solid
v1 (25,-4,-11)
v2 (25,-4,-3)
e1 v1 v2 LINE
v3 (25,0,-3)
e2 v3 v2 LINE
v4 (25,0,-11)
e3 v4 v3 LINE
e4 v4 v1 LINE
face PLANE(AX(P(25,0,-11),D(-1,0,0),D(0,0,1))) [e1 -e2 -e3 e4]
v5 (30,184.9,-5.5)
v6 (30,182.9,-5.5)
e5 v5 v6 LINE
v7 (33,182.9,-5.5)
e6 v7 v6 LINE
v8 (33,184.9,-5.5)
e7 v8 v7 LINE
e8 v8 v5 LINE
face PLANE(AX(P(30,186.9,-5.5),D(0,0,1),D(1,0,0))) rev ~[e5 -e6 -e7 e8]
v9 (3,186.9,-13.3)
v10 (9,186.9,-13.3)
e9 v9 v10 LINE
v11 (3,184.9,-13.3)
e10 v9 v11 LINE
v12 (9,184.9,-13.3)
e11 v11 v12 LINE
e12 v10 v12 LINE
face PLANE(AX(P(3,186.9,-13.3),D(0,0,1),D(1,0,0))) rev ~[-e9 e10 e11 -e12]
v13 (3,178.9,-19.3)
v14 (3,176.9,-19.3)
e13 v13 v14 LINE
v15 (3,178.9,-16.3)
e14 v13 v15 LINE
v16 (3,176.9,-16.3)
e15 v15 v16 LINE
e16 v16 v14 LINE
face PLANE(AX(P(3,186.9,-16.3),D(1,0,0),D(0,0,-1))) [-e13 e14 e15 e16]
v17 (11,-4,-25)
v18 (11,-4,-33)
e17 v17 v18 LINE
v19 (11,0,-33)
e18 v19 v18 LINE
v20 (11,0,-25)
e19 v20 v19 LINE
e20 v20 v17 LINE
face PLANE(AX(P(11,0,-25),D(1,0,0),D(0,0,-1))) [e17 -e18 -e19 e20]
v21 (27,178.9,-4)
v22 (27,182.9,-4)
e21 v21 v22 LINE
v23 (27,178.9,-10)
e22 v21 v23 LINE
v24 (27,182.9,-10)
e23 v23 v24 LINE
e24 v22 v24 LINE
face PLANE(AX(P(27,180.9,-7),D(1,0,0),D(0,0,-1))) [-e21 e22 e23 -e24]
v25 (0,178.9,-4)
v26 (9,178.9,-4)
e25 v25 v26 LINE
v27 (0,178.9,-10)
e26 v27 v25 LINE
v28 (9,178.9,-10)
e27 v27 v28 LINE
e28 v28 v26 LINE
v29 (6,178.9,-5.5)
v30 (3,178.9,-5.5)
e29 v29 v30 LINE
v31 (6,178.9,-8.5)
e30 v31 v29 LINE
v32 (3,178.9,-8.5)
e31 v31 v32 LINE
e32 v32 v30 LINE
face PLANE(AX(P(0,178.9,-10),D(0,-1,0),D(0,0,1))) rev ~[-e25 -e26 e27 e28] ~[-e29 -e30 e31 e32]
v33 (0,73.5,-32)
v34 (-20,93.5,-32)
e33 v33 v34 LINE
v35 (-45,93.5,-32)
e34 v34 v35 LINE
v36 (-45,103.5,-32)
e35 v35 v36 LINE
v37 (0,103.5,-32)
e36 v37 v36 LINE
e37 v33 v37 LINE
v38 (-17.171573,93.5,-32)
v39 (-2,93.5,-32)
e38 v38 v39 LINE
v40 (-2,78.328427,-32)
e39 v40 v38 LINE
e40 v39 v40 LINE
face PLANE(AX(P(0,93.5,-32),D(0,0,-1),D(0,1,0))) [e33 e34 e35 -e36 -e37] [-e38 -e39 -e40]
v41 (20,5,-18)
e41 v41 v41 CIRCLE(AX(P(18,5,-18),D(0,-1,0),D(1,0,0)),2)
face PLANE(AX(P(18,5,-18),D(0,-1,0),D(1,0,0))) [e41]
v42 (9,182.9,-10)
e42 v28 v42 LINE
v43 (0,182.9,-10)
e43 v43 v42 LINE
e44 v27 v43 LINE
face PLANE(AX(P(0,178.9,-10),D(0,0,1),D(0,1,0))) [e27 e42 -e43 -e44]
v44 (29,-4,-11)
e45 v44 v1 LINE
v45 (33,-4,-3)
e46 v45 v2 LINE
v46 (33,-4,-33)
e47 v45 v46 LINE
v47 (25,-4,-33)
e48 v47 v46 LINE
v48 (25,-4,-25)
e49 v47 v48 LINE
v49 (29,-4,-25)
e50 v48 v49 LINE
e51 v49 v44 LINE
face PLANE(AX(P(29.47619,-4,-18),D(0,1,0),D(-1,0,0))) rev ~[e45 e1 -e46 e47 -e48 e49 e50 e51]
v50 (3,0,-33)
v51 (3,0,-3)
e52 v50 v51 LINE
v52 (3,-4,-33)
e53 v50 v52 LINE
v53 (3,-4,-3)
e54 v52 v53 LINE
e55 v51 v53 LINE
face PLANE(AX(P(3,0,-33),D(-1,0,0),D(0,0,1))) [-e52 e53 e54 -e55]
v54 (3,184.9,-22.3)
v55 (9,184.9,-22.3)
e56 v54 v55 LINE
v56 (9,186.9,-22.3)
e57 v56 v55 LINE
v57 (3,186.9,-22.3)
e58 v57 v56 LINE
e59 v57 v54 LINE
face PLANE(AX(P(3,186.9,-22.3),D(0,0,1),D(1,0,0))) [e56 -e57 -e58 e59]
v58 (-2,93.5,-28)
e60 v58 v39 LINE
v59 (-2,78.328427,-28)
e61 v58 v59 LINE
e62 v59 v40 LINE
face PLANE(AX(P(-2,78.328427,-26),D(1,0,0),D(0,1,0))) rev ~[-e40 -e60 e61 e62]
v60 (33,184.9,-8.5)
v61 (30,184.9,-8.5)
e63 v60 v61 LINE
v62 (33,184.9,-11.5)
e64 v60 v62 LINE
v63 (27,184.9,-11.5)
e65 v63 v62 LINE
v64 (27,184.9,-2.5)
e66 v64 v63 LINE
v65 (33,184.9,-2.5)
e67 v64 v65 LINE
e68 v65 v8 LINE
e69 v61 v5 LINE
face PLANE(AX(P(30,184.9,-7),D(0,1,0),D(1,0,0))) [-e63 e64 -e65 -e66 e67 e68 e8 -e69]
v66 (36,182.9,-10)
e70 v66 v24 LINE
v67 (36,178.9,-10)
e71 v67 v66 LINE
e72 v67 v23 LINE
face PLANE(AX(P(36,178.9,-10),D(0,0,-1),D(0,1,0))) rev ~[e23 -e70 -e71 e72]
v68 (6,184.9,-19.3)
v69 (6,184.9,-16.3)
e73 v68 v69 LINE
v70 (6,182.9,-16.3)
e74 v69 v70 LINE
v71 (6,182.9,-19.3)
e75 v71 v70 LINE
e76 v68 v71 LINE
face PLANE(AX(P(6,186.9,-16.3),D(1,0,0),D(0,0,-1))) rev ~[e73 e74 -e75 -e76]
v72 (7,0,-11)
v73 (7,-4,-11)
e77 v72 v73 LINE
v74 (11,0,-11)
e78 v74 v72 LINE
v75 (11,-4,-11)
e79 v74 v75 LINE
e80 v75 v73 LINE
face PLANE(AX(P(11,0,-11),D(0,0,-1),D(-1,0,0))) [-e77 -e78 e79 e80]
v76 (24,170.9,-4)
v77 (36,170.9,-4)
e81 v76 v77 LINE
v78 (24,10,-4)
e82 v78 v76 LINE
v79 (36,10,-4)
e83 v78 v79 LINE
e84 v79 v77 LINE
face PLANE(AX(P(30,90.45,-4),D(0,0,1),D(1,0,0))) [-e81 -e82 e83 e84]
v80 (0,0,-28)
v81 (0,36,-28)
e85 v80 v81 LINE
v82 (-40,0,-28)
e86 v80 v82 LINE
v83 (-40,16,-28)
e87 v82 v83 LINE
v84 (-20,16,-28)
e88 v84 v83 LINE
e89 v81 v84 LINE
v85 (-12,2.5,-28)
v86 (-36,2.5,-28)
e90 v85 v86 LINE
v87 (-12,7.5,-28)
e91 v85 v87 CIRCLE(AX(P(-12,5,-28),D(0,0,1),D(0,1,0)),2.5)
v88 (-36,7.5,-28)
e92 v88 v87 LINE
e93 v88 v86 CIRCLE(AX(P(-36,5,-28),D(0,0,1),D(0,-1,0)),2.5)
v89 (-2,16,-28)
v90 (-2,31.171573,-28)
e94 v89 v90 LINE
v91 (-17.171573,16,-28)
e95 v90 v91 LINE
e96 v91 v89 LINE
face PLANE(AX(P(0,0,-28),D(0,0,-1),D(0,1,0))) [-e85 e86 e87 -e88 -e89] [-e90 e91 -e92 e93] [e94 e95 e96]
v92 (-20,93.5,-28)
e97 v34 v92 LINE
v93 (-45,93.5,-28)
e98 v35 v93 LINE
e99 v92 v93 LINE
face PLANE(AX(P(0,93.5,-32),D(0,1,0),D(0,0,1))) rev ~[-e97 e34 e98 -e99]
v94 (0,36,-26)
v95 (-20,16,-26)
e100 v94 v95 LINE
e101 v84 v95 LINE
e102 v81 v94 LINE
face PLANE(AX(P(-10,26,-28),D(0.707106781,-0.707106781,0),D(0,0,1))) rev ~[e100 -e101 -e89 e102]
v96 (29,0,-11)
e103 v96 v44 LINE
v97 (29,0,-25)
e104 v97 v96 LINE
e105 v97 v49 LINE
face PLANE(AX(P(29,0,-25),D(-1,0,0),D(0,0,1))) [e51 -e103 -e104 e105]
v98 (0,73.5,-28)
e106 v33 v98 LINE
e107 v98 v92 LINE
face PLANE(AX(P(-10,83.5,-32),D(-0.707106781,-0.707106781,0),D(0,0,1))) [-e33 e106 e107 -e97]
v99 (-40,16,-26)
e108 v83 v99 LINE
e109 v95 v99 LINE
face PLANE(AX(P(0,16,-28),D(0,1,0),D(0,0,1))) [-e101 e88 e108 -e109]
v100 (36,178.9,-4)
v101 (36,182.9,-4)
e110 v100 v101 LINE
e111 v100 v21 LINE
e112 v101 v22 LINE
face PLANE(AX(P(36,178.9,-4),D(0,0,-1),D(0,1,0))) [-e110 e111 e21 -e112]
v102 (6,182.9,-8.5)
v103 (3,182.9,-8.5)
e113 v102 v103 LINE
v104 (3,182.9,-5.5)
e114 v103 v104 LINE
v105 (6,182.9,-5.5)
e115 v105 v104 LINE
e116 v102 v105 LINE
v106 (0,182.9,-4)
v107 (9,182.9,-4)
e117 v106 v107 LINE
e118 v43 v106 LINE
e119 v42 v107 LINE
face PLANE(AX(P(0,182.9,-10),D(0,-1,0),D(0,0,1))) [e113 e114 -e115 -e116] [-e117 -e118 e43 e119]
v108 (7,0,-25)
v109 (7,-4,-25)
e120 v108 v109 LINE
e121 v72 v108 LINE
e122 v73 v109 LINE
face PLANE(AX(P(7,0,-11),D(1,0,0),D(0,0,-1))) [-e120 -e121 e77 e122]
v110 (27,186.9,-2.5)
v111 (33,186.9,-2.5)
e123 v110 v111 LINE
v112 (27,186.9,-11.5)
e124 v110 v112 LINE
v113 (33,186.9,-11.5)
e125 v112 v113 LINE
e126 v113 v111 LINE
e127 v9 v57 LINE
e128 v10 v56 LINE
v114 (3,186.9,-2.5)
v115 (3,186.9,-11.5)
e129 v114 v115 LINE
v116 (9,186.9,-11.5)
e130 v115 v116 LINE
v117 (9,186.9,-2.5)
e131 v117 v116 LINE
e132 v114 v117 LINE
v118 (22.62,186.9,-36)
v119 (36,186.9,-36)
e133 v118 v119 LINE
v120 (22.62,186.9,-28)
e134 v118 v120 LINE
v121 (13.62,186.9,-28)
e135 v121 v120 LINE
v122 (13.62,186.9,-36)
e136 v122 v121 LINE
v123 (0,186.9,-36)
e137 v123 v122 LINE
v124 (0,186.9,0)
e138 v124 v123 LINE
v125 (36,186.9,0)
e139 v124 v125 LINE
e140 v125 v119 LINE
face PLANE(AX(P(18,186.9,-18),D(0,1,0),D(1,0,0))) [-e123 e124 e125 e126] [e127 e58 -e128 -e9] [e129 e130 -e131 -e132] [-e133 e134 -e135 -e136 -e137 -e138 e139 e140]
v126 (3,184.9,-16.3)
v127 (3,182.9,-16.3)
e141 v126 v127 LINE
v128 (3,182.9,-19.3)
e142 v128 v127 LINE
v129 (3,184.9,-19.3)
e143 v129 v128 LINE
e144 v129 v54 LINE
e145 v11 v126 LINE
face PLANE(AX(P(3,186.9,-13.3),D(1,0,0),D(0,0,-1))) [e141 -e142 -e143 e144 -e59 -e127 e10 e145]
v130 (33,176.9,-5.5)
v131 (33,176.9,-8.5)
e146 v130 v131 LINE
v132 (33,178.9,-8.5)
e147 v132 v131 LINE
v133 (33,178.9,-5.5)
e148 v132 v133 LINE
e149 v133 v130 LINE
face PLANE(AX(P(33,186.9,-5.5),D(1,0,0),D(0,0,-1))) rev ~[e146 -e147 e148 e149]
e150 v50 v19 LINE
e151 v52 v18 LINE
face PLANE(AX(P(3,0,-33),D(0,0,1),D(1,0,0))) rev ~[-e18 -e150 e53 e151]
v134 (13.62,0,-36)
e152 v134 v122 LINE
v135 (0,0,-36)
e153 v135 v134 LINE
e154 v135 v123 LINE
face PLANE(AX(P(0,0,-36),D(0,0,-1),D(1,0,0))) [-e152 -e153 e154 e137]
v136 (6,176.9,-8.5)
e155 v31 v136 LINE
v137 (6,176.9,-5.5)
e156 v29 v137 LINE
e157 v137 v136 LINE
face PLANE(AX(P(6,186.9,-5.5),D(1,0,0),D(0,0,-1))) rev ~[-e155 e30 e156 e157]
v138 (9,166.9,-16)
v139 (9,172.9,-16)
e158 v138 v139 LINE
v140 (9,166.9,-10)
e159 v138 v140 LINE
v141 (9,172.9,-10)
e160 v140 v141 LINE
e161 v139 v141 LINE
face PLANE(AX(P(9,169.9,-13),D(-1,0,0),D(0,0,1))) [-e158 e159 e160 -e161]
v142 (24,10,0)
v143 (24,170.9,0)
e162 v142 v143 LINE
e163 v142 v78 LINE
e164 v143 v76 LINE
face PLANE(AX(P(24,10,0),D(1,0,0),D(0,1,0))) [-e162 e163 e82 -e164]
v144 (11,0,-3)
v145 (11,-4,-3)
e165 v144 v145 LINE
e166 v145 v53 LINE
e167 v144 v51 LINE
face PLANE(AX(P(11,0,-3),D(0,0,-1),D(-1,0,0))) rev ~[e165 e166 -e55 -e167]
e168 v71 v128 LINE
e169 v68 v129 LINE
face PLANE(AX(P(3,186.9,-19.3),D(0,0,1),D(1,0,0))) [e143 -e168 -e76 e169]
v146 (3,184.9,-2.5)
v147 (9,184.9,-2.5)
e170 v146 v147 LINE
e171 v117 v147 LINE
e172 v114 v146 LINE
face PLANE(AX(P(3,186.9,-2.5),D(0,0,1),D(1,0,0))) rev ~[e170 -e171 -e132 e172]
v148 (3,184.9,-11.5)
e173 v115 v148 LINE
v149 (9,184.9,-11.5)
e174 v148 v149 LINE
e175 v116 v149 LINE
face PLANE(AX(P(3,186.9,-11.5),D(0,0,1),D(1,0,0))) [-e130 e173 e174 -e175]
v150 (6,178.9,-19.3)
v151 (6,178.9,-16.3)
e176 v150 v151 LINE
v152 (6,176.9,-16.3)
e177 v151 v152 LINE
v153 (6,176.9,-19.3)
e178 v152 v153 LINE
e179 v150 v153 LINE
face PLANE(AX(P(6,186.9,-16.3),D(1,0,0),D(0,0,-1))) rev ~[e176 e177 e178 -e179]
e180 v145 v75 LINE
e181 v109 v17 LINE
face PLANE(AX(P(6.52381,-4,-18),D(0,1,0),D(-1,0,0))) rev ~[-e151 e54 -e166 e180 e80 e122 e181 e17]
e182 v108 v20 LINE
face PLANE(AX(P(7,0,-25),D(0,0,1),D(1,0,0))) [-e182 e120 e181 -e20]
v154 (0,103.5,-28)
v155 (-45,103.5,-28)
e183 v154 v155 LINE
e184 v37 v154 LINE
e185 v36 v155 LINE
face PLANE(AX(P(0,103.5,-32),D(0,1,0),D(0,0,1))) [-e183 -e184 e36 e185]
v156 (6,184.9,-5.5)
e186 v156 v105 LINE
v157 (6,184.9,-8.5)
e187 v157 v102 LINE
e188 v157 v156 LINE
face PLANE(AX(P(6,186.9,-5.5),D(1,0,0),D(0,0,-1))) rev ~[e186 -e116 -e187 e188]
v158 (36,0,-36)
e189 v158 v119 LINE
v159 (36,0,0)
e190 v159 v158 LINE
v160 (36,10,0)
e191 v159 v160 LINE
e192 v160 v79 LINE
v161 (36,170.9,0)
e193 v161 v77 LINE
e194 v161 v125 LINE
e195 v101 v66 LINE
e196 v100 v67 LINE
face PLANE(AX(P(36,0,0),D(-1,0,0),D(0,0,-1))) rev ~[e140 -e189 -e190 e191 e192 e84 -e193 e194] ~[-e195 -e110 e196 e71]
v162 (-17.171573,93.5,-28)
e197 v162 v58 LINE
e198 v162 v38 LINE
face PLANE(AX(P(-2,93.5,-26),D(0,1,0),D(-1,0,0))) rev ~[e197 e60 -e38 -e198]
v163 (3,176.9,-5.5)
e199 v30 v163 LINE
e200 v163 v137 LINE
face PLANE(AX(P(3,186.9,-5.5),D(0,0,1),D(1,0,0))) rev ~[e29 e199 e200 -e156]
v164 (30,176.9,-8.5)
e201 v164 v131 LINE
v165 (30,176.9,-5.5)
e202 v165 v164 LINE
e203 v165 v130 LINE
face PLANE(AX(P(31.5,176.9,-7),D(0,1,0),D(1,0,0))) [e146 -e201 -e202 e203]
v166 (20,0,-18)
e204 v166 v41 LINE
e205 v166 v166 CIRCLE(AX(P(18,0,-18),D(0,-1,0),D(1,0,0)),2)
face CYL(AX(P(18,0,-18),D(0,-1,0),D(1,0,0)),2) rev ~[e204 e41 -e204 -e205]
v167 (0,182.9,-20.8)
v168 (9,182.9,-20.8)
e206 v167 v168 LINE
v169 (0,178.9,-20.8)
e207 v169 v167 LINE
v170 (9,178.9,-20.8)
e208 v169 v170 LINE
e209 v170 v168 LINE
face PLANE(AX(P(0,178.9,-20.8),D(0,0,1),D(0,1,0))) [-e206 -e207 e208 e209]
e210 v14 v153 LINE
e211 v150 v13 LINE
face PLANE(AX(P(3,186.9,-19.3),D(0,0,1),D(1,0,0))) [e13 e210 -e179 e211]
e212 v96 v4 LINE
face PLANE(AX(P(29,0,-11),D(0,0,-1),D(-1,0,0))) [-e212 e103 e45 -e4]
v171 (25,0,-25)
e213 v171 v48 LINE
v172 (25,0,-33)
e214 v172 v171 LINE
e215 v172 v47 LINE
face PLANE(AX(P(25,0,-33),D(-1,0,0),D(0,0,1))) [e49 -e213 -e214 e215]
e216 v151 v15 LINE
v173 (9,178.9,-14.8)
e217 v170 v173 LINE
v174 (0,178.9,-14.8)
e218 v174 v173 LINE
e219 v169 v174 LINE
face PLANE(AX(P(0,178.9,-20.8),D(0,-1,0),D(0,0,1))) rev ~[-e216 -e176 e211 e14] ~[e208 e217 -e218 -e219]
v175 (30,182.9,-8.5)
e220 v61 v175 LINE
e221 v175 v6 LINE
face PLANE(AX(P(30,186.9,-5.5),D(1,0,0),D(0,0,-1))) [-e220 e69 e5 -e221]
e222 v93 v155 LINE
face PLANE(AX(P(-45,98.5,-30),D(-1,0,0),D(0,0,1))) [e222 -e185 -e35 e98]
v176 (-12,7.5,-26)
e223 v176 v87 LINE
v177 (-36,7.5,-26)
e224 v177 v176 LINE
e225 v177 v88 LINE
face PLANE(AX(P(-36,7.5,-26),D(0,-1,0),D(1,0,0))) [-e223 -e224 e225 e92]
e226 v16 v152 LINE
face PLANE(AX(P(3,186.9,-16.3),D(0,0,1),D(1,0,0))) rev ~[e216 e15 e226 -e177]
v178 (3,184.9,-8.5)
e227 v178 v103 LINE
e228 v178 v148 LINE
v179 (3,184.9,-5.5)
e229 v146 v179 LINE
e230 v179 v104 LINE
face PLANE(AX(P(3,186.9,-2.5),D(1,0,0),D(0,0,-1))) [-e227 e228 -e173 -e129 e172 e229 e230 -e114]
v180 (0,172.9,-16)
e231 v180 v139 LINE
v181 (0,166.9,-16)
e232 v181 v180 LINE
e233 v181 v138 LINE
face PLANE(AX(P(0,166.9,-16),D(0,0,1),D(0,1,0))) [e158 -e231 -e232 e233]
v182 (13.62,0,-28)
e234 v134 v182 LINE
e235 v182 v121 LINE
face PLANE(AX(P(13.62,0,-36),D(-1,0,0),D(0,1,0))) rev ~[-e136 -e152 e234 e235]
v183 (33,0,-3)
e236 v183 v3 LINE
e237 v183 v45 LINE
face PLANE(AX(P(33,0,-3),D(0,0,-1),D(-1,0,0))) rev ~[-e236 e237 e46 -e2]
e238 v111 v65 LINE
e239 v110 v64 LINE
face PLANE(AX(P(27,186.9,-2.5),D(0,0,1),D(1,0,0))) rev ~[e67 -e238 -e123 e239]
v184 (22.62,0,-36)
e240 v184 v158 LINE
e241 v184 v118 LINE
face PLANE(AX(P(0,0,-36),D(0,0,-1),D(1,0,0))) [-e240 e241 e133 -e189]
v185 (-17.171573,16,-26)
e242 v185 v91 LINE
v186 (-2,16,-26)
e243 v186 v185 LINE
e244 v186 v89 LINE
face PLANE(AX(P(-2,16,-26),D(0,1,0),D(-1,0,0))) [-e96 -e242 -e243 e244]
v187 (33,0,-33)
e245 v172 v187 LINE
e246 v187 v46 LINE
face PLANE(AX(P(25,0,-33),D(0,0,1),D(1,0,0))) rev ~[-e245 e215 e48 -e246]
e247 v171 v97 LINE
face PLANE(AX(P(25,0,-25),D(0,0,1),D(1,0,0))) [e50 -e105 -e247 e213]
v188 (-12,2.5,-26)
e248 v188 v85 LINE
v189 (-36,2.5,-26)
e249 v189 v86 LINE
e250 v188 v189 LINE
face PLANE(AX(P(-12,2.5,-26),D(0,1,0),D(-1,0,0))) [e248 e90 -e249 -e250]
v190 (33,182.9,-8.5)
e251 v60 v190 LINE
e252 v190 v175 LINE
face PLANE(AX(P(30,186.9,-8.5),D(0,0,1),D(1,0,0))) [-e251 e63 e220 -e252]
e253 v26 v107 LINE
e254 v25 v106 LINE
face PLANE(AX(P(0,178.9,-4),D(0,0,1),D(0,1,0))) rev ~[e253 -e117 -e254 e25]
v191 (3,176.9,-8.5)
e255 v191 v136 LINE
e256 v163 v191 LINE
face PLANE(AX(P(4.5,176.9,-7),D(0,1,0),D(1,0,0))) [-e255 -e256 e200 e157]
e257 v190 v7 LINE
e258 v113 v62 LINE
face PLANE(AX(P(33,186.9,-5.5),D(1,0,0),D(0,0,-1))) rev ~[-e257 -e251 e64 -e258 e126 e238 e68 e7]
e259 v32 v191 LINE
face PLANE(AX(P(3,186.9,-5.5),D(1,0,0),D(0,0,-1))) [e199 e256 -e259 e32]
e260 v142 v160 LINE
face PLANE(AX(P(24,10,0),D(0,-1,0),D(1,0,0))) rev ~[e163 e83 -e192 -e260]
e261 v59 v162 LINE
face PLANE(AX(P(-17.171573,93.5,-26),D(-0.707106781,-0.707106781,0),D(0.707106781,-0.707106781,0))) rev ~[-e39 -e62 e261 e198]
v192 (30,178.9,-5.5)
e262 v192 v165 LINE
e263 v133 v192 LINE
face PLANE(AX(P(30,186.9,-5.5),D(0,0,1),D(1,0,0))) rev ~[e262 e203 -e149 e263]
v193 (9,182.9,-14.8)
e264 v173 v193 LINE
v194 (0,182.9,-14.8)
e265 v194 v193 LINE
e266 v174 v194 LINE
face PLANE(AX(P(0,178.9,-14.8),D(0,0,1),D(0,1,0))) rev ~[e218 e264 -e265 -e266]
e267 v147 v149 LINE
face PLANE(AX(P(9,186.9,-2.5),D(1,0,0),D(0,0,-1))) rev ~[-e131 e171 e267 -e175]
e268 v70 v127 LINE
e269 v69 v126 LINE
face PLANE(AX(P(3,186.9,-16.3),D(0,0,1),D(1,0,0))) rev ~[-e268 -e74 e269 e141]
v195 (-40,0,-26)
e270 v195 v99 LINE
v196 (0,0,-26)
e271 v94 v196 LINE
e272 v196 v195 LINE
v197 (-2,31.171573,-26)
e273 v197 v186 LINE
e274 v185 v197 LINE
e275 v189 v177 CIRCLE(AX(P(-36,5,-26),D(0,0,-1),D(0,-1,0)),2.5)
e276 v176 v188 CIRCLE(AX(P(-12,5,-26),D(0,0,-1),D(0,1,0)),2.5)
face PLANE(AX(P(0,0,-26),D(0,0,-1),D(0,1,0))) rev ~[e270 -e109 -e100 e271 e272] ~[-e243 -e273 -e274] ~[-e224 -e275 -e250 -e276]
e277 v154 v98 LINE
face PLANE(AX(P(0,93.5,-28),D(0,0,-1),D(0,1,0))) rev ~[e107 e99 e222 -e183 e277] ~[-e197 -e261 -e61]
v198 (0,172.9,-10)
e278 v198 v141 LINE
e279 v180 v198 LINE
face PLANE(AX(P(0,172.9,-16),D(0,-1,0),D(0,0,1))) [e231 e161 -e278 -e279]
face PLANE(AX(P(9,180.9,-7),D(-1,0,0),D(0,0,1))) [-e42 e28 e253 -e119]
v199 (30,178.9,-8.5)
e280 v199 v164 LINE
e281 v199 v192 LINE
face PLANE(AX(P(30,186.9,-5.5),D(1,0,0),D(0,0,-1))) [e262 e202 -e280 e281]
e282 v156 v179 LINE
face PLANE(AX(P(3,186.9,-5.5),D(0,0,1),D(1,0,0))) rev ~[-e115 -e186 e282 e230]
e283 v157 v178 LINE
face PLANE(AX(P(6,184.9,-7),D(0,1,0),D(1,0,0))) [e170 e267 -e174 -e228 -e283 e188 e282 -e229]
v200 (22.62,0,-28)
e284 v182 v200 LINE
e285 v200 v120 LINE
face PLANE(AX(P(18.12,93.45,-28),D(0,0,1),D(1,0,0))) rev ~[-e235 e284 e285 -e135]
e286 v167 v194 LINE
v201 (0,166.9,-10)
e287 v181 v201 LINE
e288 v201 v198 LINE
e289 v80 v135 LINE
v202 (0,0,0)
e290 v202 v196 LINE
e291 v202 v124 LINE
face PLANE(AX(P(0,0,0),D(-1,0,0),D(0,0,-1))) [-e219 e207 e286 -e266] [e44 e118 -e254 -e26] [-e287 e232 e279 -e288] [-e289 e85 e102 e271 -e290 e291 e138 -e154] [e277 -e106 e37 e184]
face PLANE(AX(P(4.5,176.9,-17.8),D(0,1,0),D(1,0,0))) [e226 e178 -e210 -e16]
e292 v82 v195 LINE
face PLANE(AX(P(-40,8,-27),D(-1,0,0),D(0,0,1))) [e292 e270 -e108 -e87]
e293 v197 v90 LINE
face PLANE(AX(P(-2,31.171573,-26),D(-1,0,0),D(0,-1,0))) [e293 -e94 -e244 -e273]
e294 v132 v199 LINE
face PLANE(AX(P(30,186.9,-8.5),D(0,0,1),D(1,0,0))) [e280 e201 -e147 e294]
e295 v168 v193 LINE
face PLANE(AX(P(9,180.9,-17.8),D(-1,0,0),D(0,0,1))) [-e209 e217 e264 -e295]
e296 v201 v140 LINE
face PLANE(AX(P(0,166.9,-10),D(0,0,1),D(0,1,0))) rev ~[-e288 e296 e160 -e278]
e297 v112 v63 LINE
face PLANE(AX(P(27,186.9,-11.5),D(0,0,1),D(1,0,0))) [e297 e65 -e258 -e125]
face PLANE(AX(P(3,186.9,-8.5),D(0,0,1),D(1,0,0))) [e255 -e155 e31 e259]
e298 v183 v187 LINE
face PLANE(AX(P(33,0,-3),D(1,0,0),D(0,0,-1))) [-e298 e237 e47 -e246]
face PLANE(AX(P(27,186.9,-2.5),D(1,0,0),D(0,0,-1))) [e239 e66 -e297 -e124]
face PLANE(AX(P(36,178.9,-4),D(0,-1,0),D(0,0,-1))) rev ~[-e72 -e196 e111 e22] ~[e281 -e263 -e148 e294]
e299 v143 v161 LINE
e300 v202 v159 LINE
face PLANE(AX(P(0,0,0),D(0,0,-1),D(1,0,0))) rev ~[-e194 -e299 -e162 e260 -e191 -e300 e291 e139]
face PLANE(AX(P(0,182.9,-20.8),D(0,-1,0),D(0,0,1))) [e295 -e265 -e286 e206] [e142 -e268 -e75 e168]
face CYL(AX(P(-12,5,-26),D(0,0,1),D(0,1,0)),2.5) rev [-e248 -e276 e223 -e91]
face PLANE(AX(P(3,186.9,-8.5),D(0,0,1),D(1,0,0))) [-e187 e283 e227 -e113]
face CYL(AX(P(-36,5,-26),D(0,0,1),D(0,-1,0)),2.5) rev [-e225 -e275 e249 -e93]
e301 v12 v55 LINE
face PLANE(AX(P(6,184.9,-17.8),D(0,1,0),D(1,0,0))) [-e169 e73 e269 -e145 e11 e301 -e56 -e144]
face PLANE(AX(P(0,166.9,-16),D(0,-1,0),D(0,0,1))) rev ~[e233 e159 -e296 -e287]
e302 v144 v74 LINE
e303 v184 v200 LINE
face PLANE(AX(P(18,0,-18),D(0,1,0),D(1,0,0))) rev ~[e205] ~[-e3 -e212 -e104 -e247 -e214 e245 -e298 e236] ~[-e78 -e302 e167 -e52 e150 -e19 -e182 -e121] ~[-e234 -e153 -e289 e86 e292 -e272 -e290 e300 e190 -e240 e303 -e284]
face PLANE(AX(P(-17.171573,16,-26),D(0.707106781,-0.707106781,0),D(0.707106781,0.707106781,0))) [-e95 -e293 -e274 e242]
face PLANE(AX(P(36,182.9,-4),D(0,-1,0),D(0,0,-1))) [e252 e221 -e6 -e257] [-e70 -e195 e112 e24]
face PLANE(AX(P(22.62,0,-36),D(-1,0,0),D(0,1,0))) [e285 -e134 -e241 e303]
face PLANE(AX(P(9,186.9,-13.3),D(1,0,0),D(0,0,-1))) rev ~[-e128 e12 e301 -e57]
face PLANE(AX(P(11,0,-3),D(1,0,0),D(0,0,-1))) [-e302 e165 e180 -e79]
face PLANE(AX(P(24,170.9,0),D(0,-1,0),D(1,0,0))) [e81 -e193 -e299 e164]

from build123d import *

# Parameters (mm, degrees)
SKETCH1_W           = 36
SKETCH1_H           = 36
BOSS_EXTRUDE1_DEPTH = 186.9
BOSS_EXTRUDE2_DEPTH = 4
SKETCH3_R           = 2
CUT_EXTRUDE1_DEPTH  = 5
SKETCH4_W           = 9
SKETCH4_H           = 186.9
CUT_EXTRUDE2_DEPTH  = 8
SKETCH5_W           = 6
SKETCH5_H           = 4
CUT_EXTRUDE3_DEPTH  = 9
SKETCH6_W           = 3
SKETCH6_H           = 3
CUT_EXTRUDE4_DEPTH  = 10
SKETCH7_W           = 2
SKETCH7_H           = 16
BOSS_EXTRUDE3_DEPTH = 40
CUT_EXTRUDE5_REACH  = 12
SKETCH9_W           = 4
SKETCH9_H           = 10
BOSS_EXTRUDE4_DEPTH = 45
CHAMFER1_SIZE       = 20
CUT_EXTRUDE6_DEPTH  = 27
SKETCH11_W          = 6
SKETCH11_H          = 4
SKETCH11_H_2        = 6
CUT_EXTRUDE7_DEPTH  = 9
SKETCH12_W          = 3
SKETCH12_H          = 3
CUT_EXTRUDE8_DEPTH  = 10
SKETCH13_W          = 12
SKETCH13_H          = 160.9
CUT_EXTRUDE9_DEPTH  = 4
SKETCH14_W          = 6
SKETCH14_H          = 9
CUT_EXTRUDE10_DEPTH = 2


with BuildPart() as part:
    # Sketch1 → Boss-Extrude1 (new body)
    with BuildSketch(Plane(origin=(0, 0, 0), x_dir=(1, 0, 0), z_dir=(0, 1, 0))):
        with Locations((18, 18)):
            Rectangle(SKETCH1_W, SKETCH1_H)
    extrude(amount=BOSS_EXTRUDE1_DEPTH)

    # Sketch2 → Boss-Extrude2 (add)
    with BuildSketch(Plane.XZ):
        Polygon((3, -3), (7, -3), (11, -3), (11, -11), (7, -11), (7, -25), (11, -25), (11, -33), (7, -33), (3, -33), align=None)
        Polygon((29, -3), (33, -3), (33, -33), (29, -33), (25, -33), (25, -25), (29, -25), (29, -11), (25, -11), (25, -3), align=None)
    extrude(amount=BOSS_EXTRUDE2_DEPTH)

    # Sketch3 → Cut-Extrude1 (cut)
    with BuildSketch(Plane.XZ):
        with Locations((18, -18)):
            Circle(SKETCH3_R)
    extrude(amount=-CUT_EXTRUDE1_DEPTH, mode=Mode.SUBTRACT)

    # Sketch4 → Cut-Extrude2 (cut)
    with BuildSketch(Plane.XY.offset(-36)):
        with Locations((18.12, 93.45)):
            Rectangle(SKETCH4_W, SKETCH4_H)
    extrude(amount=CUT_EXTRUDE2_DEPTH, mode=Mode.SUBTRACT)

    # Sketch5 → Cut-Extrude3 (cut)
    with BuildSketch(Plane(origin=(36, 0, 0), x_dir=(0, 0, -1), z_dir=(1, 0, 0))):
        with Locations((7, 180.9)):
            Rectangle(SKETCH5_W, SKETCH5_H)
    extrude(amount=-CUT_EXTRUDE3_DEPTH, mode=Mode.SUBTRACT)

    # Sketch6 → Cut-Extrude4 (cut)
    with BuildSketch(Plane(origin=(0, 186.9, 0), x_dir=(1, 0, 0), z_dir=(0, 1, 0))):
        with Locations((31.5, 7)):
            Rectangle(SKETCH6_W, SKETCH6_H)
    extrude(amount=-CUT_EXTRUDE4_DEPTH, mode=Mode.SUBTRACT)

    # Sketch7 → Boss-Extrude3 (add)
    with BuildSketch(Plane.ZY):
        with Locations((-27, 8)):
            Rectangle(SKETCH7_W, SKETCH7_H)
    extrude(amount=BOSS_EXTRUDE3_DEPTH)

    # Sketch8 → Cut-Extrude5 (cut, up to next)
    with BuildSketch(Plane.XY.offset(-26), mode=Mode.PRIVATE) as cut_extrude5_sk1:
        with BuildLine():
            Line((-36, 7.5), (-12, 7.5))
            ThreePointArc((-12, 7.5), (-9.5, 5), (-12, 2.5))
            Line((-12, 2.5), (-36, 2.5))
            ThreePointArc((-36, 2.5), (-38.5, 5), (-36, 7.5))
        make_face()
    cut_extrude5_tool1 = extrude(cut_extrude5_sk1.sketch, amount=-CUT_EXTRUDE5_REACH, mode=Mode.PRIVATE) & part.part
    add(cut_extrude5_tool1.solids().sort_by_distance((-24, 5, -26))[0], mode=Mode.SUBTRACT)

    # Sketch9 → Boss-Extrude4 (add)
    with BuildSketch(Plane.ZY):
        with Locations((-30, 98.5)):
            Rectangle(SKETCH9_W, SKETCH9_H)
    extrude(amount=BOSS_EXTRUDE4_DEPTH)

    # Chamfer1
    chamfer1_edges = [part.edges().sort_by_distance(p)[0] for p in [
        (0, 16, -27),
        (0, 93.5, -30),
    ]]
    chamfer(chamfer1_edges, length=CHAMFER1_SIZE)

    # Sketch10 → Cut-Extrude6 (cut)
    with BuildSketch(Plane.XY.offset(-26)):
        Polygon((-17.171572875, 93.5), (-2, 78.328427125), (-2, 93.5), align=None)
        Polygon((-17.171572875, 16), (-2, 31.171572875), (-2, 16), align=None)
    extrude(amount=-CUT_EXTRUDE6_DEPTH, mode=Mode.SUBTRACT)

    # Sketch11 → Cut-Extrude7 (cut)
    with BuildSketch(Plane.ZY):
        with Locations((-7, 180.9)):
            Rectangle(SKETCH11_W, SKETCH11_H)
        with Locations((-17.8, 180.9)):
            Rectangle(SKETCH11_W, SKETCH11_H)
        with Locations((-13, 169.9)):
            Rectangle(SKETCH11_W, SKETCH11_H_2)
    extrude(amount=-CUT_EXTRUDE7_DEPTH, mode=Mode.SUBTRACT)

    # Sketch12 → Cut-Extrude8 (cut)
    with BuildSketch(Plane(origin=(0, 186.9, 0), x_dir=(1, 0, 0), z_dir=(0, 1, 0))):
        with Locations((4.5, 7)):
            Rectangle(SKETCH12_W, SKETCH12_H)
        with Locations((4.5, 17.8)):
            Rectangle(SKETCH12_W, SKETCH12_H)
    extrude(amount=-CUT_EXTRUDE8_DEPTH, mode=Mode.SUBTRACT)

    # Sketch13 → Cut-Extrude9 (cut)
    with BuildSketch(Plane.XY):
        with Locations((30, 90.45)):
            Rectangle(SKETCH13_W, SKETCH13_H)
    extrude(amount=-CUT_EXTRUDE9_DEPTH, mode=Mode.SUBTRACT)

    # Sketch14 → Cut-Extrude10 (cut)
    with BuildSketch(Plane(origin=(0, 186.9, 0), x_dir=(1, 0, 0), z_dir=(0, 1, 0))):
        with Locations((30, 7)):
            Rectangle(SKETCH14_W, SKETCH14_H)
        with Locations((6, 17.8)):
            Rectangle(SKETCH14_W, SKETCH14_H)
        with Locations((6, 7)):
            Rectangle(SKETCH14_W, SKETCH14_H)
    extrude(amount=-CUT_EXTRUDE10_DEPTH, mode=Mode.SUBTRACT)


solid = part.part
